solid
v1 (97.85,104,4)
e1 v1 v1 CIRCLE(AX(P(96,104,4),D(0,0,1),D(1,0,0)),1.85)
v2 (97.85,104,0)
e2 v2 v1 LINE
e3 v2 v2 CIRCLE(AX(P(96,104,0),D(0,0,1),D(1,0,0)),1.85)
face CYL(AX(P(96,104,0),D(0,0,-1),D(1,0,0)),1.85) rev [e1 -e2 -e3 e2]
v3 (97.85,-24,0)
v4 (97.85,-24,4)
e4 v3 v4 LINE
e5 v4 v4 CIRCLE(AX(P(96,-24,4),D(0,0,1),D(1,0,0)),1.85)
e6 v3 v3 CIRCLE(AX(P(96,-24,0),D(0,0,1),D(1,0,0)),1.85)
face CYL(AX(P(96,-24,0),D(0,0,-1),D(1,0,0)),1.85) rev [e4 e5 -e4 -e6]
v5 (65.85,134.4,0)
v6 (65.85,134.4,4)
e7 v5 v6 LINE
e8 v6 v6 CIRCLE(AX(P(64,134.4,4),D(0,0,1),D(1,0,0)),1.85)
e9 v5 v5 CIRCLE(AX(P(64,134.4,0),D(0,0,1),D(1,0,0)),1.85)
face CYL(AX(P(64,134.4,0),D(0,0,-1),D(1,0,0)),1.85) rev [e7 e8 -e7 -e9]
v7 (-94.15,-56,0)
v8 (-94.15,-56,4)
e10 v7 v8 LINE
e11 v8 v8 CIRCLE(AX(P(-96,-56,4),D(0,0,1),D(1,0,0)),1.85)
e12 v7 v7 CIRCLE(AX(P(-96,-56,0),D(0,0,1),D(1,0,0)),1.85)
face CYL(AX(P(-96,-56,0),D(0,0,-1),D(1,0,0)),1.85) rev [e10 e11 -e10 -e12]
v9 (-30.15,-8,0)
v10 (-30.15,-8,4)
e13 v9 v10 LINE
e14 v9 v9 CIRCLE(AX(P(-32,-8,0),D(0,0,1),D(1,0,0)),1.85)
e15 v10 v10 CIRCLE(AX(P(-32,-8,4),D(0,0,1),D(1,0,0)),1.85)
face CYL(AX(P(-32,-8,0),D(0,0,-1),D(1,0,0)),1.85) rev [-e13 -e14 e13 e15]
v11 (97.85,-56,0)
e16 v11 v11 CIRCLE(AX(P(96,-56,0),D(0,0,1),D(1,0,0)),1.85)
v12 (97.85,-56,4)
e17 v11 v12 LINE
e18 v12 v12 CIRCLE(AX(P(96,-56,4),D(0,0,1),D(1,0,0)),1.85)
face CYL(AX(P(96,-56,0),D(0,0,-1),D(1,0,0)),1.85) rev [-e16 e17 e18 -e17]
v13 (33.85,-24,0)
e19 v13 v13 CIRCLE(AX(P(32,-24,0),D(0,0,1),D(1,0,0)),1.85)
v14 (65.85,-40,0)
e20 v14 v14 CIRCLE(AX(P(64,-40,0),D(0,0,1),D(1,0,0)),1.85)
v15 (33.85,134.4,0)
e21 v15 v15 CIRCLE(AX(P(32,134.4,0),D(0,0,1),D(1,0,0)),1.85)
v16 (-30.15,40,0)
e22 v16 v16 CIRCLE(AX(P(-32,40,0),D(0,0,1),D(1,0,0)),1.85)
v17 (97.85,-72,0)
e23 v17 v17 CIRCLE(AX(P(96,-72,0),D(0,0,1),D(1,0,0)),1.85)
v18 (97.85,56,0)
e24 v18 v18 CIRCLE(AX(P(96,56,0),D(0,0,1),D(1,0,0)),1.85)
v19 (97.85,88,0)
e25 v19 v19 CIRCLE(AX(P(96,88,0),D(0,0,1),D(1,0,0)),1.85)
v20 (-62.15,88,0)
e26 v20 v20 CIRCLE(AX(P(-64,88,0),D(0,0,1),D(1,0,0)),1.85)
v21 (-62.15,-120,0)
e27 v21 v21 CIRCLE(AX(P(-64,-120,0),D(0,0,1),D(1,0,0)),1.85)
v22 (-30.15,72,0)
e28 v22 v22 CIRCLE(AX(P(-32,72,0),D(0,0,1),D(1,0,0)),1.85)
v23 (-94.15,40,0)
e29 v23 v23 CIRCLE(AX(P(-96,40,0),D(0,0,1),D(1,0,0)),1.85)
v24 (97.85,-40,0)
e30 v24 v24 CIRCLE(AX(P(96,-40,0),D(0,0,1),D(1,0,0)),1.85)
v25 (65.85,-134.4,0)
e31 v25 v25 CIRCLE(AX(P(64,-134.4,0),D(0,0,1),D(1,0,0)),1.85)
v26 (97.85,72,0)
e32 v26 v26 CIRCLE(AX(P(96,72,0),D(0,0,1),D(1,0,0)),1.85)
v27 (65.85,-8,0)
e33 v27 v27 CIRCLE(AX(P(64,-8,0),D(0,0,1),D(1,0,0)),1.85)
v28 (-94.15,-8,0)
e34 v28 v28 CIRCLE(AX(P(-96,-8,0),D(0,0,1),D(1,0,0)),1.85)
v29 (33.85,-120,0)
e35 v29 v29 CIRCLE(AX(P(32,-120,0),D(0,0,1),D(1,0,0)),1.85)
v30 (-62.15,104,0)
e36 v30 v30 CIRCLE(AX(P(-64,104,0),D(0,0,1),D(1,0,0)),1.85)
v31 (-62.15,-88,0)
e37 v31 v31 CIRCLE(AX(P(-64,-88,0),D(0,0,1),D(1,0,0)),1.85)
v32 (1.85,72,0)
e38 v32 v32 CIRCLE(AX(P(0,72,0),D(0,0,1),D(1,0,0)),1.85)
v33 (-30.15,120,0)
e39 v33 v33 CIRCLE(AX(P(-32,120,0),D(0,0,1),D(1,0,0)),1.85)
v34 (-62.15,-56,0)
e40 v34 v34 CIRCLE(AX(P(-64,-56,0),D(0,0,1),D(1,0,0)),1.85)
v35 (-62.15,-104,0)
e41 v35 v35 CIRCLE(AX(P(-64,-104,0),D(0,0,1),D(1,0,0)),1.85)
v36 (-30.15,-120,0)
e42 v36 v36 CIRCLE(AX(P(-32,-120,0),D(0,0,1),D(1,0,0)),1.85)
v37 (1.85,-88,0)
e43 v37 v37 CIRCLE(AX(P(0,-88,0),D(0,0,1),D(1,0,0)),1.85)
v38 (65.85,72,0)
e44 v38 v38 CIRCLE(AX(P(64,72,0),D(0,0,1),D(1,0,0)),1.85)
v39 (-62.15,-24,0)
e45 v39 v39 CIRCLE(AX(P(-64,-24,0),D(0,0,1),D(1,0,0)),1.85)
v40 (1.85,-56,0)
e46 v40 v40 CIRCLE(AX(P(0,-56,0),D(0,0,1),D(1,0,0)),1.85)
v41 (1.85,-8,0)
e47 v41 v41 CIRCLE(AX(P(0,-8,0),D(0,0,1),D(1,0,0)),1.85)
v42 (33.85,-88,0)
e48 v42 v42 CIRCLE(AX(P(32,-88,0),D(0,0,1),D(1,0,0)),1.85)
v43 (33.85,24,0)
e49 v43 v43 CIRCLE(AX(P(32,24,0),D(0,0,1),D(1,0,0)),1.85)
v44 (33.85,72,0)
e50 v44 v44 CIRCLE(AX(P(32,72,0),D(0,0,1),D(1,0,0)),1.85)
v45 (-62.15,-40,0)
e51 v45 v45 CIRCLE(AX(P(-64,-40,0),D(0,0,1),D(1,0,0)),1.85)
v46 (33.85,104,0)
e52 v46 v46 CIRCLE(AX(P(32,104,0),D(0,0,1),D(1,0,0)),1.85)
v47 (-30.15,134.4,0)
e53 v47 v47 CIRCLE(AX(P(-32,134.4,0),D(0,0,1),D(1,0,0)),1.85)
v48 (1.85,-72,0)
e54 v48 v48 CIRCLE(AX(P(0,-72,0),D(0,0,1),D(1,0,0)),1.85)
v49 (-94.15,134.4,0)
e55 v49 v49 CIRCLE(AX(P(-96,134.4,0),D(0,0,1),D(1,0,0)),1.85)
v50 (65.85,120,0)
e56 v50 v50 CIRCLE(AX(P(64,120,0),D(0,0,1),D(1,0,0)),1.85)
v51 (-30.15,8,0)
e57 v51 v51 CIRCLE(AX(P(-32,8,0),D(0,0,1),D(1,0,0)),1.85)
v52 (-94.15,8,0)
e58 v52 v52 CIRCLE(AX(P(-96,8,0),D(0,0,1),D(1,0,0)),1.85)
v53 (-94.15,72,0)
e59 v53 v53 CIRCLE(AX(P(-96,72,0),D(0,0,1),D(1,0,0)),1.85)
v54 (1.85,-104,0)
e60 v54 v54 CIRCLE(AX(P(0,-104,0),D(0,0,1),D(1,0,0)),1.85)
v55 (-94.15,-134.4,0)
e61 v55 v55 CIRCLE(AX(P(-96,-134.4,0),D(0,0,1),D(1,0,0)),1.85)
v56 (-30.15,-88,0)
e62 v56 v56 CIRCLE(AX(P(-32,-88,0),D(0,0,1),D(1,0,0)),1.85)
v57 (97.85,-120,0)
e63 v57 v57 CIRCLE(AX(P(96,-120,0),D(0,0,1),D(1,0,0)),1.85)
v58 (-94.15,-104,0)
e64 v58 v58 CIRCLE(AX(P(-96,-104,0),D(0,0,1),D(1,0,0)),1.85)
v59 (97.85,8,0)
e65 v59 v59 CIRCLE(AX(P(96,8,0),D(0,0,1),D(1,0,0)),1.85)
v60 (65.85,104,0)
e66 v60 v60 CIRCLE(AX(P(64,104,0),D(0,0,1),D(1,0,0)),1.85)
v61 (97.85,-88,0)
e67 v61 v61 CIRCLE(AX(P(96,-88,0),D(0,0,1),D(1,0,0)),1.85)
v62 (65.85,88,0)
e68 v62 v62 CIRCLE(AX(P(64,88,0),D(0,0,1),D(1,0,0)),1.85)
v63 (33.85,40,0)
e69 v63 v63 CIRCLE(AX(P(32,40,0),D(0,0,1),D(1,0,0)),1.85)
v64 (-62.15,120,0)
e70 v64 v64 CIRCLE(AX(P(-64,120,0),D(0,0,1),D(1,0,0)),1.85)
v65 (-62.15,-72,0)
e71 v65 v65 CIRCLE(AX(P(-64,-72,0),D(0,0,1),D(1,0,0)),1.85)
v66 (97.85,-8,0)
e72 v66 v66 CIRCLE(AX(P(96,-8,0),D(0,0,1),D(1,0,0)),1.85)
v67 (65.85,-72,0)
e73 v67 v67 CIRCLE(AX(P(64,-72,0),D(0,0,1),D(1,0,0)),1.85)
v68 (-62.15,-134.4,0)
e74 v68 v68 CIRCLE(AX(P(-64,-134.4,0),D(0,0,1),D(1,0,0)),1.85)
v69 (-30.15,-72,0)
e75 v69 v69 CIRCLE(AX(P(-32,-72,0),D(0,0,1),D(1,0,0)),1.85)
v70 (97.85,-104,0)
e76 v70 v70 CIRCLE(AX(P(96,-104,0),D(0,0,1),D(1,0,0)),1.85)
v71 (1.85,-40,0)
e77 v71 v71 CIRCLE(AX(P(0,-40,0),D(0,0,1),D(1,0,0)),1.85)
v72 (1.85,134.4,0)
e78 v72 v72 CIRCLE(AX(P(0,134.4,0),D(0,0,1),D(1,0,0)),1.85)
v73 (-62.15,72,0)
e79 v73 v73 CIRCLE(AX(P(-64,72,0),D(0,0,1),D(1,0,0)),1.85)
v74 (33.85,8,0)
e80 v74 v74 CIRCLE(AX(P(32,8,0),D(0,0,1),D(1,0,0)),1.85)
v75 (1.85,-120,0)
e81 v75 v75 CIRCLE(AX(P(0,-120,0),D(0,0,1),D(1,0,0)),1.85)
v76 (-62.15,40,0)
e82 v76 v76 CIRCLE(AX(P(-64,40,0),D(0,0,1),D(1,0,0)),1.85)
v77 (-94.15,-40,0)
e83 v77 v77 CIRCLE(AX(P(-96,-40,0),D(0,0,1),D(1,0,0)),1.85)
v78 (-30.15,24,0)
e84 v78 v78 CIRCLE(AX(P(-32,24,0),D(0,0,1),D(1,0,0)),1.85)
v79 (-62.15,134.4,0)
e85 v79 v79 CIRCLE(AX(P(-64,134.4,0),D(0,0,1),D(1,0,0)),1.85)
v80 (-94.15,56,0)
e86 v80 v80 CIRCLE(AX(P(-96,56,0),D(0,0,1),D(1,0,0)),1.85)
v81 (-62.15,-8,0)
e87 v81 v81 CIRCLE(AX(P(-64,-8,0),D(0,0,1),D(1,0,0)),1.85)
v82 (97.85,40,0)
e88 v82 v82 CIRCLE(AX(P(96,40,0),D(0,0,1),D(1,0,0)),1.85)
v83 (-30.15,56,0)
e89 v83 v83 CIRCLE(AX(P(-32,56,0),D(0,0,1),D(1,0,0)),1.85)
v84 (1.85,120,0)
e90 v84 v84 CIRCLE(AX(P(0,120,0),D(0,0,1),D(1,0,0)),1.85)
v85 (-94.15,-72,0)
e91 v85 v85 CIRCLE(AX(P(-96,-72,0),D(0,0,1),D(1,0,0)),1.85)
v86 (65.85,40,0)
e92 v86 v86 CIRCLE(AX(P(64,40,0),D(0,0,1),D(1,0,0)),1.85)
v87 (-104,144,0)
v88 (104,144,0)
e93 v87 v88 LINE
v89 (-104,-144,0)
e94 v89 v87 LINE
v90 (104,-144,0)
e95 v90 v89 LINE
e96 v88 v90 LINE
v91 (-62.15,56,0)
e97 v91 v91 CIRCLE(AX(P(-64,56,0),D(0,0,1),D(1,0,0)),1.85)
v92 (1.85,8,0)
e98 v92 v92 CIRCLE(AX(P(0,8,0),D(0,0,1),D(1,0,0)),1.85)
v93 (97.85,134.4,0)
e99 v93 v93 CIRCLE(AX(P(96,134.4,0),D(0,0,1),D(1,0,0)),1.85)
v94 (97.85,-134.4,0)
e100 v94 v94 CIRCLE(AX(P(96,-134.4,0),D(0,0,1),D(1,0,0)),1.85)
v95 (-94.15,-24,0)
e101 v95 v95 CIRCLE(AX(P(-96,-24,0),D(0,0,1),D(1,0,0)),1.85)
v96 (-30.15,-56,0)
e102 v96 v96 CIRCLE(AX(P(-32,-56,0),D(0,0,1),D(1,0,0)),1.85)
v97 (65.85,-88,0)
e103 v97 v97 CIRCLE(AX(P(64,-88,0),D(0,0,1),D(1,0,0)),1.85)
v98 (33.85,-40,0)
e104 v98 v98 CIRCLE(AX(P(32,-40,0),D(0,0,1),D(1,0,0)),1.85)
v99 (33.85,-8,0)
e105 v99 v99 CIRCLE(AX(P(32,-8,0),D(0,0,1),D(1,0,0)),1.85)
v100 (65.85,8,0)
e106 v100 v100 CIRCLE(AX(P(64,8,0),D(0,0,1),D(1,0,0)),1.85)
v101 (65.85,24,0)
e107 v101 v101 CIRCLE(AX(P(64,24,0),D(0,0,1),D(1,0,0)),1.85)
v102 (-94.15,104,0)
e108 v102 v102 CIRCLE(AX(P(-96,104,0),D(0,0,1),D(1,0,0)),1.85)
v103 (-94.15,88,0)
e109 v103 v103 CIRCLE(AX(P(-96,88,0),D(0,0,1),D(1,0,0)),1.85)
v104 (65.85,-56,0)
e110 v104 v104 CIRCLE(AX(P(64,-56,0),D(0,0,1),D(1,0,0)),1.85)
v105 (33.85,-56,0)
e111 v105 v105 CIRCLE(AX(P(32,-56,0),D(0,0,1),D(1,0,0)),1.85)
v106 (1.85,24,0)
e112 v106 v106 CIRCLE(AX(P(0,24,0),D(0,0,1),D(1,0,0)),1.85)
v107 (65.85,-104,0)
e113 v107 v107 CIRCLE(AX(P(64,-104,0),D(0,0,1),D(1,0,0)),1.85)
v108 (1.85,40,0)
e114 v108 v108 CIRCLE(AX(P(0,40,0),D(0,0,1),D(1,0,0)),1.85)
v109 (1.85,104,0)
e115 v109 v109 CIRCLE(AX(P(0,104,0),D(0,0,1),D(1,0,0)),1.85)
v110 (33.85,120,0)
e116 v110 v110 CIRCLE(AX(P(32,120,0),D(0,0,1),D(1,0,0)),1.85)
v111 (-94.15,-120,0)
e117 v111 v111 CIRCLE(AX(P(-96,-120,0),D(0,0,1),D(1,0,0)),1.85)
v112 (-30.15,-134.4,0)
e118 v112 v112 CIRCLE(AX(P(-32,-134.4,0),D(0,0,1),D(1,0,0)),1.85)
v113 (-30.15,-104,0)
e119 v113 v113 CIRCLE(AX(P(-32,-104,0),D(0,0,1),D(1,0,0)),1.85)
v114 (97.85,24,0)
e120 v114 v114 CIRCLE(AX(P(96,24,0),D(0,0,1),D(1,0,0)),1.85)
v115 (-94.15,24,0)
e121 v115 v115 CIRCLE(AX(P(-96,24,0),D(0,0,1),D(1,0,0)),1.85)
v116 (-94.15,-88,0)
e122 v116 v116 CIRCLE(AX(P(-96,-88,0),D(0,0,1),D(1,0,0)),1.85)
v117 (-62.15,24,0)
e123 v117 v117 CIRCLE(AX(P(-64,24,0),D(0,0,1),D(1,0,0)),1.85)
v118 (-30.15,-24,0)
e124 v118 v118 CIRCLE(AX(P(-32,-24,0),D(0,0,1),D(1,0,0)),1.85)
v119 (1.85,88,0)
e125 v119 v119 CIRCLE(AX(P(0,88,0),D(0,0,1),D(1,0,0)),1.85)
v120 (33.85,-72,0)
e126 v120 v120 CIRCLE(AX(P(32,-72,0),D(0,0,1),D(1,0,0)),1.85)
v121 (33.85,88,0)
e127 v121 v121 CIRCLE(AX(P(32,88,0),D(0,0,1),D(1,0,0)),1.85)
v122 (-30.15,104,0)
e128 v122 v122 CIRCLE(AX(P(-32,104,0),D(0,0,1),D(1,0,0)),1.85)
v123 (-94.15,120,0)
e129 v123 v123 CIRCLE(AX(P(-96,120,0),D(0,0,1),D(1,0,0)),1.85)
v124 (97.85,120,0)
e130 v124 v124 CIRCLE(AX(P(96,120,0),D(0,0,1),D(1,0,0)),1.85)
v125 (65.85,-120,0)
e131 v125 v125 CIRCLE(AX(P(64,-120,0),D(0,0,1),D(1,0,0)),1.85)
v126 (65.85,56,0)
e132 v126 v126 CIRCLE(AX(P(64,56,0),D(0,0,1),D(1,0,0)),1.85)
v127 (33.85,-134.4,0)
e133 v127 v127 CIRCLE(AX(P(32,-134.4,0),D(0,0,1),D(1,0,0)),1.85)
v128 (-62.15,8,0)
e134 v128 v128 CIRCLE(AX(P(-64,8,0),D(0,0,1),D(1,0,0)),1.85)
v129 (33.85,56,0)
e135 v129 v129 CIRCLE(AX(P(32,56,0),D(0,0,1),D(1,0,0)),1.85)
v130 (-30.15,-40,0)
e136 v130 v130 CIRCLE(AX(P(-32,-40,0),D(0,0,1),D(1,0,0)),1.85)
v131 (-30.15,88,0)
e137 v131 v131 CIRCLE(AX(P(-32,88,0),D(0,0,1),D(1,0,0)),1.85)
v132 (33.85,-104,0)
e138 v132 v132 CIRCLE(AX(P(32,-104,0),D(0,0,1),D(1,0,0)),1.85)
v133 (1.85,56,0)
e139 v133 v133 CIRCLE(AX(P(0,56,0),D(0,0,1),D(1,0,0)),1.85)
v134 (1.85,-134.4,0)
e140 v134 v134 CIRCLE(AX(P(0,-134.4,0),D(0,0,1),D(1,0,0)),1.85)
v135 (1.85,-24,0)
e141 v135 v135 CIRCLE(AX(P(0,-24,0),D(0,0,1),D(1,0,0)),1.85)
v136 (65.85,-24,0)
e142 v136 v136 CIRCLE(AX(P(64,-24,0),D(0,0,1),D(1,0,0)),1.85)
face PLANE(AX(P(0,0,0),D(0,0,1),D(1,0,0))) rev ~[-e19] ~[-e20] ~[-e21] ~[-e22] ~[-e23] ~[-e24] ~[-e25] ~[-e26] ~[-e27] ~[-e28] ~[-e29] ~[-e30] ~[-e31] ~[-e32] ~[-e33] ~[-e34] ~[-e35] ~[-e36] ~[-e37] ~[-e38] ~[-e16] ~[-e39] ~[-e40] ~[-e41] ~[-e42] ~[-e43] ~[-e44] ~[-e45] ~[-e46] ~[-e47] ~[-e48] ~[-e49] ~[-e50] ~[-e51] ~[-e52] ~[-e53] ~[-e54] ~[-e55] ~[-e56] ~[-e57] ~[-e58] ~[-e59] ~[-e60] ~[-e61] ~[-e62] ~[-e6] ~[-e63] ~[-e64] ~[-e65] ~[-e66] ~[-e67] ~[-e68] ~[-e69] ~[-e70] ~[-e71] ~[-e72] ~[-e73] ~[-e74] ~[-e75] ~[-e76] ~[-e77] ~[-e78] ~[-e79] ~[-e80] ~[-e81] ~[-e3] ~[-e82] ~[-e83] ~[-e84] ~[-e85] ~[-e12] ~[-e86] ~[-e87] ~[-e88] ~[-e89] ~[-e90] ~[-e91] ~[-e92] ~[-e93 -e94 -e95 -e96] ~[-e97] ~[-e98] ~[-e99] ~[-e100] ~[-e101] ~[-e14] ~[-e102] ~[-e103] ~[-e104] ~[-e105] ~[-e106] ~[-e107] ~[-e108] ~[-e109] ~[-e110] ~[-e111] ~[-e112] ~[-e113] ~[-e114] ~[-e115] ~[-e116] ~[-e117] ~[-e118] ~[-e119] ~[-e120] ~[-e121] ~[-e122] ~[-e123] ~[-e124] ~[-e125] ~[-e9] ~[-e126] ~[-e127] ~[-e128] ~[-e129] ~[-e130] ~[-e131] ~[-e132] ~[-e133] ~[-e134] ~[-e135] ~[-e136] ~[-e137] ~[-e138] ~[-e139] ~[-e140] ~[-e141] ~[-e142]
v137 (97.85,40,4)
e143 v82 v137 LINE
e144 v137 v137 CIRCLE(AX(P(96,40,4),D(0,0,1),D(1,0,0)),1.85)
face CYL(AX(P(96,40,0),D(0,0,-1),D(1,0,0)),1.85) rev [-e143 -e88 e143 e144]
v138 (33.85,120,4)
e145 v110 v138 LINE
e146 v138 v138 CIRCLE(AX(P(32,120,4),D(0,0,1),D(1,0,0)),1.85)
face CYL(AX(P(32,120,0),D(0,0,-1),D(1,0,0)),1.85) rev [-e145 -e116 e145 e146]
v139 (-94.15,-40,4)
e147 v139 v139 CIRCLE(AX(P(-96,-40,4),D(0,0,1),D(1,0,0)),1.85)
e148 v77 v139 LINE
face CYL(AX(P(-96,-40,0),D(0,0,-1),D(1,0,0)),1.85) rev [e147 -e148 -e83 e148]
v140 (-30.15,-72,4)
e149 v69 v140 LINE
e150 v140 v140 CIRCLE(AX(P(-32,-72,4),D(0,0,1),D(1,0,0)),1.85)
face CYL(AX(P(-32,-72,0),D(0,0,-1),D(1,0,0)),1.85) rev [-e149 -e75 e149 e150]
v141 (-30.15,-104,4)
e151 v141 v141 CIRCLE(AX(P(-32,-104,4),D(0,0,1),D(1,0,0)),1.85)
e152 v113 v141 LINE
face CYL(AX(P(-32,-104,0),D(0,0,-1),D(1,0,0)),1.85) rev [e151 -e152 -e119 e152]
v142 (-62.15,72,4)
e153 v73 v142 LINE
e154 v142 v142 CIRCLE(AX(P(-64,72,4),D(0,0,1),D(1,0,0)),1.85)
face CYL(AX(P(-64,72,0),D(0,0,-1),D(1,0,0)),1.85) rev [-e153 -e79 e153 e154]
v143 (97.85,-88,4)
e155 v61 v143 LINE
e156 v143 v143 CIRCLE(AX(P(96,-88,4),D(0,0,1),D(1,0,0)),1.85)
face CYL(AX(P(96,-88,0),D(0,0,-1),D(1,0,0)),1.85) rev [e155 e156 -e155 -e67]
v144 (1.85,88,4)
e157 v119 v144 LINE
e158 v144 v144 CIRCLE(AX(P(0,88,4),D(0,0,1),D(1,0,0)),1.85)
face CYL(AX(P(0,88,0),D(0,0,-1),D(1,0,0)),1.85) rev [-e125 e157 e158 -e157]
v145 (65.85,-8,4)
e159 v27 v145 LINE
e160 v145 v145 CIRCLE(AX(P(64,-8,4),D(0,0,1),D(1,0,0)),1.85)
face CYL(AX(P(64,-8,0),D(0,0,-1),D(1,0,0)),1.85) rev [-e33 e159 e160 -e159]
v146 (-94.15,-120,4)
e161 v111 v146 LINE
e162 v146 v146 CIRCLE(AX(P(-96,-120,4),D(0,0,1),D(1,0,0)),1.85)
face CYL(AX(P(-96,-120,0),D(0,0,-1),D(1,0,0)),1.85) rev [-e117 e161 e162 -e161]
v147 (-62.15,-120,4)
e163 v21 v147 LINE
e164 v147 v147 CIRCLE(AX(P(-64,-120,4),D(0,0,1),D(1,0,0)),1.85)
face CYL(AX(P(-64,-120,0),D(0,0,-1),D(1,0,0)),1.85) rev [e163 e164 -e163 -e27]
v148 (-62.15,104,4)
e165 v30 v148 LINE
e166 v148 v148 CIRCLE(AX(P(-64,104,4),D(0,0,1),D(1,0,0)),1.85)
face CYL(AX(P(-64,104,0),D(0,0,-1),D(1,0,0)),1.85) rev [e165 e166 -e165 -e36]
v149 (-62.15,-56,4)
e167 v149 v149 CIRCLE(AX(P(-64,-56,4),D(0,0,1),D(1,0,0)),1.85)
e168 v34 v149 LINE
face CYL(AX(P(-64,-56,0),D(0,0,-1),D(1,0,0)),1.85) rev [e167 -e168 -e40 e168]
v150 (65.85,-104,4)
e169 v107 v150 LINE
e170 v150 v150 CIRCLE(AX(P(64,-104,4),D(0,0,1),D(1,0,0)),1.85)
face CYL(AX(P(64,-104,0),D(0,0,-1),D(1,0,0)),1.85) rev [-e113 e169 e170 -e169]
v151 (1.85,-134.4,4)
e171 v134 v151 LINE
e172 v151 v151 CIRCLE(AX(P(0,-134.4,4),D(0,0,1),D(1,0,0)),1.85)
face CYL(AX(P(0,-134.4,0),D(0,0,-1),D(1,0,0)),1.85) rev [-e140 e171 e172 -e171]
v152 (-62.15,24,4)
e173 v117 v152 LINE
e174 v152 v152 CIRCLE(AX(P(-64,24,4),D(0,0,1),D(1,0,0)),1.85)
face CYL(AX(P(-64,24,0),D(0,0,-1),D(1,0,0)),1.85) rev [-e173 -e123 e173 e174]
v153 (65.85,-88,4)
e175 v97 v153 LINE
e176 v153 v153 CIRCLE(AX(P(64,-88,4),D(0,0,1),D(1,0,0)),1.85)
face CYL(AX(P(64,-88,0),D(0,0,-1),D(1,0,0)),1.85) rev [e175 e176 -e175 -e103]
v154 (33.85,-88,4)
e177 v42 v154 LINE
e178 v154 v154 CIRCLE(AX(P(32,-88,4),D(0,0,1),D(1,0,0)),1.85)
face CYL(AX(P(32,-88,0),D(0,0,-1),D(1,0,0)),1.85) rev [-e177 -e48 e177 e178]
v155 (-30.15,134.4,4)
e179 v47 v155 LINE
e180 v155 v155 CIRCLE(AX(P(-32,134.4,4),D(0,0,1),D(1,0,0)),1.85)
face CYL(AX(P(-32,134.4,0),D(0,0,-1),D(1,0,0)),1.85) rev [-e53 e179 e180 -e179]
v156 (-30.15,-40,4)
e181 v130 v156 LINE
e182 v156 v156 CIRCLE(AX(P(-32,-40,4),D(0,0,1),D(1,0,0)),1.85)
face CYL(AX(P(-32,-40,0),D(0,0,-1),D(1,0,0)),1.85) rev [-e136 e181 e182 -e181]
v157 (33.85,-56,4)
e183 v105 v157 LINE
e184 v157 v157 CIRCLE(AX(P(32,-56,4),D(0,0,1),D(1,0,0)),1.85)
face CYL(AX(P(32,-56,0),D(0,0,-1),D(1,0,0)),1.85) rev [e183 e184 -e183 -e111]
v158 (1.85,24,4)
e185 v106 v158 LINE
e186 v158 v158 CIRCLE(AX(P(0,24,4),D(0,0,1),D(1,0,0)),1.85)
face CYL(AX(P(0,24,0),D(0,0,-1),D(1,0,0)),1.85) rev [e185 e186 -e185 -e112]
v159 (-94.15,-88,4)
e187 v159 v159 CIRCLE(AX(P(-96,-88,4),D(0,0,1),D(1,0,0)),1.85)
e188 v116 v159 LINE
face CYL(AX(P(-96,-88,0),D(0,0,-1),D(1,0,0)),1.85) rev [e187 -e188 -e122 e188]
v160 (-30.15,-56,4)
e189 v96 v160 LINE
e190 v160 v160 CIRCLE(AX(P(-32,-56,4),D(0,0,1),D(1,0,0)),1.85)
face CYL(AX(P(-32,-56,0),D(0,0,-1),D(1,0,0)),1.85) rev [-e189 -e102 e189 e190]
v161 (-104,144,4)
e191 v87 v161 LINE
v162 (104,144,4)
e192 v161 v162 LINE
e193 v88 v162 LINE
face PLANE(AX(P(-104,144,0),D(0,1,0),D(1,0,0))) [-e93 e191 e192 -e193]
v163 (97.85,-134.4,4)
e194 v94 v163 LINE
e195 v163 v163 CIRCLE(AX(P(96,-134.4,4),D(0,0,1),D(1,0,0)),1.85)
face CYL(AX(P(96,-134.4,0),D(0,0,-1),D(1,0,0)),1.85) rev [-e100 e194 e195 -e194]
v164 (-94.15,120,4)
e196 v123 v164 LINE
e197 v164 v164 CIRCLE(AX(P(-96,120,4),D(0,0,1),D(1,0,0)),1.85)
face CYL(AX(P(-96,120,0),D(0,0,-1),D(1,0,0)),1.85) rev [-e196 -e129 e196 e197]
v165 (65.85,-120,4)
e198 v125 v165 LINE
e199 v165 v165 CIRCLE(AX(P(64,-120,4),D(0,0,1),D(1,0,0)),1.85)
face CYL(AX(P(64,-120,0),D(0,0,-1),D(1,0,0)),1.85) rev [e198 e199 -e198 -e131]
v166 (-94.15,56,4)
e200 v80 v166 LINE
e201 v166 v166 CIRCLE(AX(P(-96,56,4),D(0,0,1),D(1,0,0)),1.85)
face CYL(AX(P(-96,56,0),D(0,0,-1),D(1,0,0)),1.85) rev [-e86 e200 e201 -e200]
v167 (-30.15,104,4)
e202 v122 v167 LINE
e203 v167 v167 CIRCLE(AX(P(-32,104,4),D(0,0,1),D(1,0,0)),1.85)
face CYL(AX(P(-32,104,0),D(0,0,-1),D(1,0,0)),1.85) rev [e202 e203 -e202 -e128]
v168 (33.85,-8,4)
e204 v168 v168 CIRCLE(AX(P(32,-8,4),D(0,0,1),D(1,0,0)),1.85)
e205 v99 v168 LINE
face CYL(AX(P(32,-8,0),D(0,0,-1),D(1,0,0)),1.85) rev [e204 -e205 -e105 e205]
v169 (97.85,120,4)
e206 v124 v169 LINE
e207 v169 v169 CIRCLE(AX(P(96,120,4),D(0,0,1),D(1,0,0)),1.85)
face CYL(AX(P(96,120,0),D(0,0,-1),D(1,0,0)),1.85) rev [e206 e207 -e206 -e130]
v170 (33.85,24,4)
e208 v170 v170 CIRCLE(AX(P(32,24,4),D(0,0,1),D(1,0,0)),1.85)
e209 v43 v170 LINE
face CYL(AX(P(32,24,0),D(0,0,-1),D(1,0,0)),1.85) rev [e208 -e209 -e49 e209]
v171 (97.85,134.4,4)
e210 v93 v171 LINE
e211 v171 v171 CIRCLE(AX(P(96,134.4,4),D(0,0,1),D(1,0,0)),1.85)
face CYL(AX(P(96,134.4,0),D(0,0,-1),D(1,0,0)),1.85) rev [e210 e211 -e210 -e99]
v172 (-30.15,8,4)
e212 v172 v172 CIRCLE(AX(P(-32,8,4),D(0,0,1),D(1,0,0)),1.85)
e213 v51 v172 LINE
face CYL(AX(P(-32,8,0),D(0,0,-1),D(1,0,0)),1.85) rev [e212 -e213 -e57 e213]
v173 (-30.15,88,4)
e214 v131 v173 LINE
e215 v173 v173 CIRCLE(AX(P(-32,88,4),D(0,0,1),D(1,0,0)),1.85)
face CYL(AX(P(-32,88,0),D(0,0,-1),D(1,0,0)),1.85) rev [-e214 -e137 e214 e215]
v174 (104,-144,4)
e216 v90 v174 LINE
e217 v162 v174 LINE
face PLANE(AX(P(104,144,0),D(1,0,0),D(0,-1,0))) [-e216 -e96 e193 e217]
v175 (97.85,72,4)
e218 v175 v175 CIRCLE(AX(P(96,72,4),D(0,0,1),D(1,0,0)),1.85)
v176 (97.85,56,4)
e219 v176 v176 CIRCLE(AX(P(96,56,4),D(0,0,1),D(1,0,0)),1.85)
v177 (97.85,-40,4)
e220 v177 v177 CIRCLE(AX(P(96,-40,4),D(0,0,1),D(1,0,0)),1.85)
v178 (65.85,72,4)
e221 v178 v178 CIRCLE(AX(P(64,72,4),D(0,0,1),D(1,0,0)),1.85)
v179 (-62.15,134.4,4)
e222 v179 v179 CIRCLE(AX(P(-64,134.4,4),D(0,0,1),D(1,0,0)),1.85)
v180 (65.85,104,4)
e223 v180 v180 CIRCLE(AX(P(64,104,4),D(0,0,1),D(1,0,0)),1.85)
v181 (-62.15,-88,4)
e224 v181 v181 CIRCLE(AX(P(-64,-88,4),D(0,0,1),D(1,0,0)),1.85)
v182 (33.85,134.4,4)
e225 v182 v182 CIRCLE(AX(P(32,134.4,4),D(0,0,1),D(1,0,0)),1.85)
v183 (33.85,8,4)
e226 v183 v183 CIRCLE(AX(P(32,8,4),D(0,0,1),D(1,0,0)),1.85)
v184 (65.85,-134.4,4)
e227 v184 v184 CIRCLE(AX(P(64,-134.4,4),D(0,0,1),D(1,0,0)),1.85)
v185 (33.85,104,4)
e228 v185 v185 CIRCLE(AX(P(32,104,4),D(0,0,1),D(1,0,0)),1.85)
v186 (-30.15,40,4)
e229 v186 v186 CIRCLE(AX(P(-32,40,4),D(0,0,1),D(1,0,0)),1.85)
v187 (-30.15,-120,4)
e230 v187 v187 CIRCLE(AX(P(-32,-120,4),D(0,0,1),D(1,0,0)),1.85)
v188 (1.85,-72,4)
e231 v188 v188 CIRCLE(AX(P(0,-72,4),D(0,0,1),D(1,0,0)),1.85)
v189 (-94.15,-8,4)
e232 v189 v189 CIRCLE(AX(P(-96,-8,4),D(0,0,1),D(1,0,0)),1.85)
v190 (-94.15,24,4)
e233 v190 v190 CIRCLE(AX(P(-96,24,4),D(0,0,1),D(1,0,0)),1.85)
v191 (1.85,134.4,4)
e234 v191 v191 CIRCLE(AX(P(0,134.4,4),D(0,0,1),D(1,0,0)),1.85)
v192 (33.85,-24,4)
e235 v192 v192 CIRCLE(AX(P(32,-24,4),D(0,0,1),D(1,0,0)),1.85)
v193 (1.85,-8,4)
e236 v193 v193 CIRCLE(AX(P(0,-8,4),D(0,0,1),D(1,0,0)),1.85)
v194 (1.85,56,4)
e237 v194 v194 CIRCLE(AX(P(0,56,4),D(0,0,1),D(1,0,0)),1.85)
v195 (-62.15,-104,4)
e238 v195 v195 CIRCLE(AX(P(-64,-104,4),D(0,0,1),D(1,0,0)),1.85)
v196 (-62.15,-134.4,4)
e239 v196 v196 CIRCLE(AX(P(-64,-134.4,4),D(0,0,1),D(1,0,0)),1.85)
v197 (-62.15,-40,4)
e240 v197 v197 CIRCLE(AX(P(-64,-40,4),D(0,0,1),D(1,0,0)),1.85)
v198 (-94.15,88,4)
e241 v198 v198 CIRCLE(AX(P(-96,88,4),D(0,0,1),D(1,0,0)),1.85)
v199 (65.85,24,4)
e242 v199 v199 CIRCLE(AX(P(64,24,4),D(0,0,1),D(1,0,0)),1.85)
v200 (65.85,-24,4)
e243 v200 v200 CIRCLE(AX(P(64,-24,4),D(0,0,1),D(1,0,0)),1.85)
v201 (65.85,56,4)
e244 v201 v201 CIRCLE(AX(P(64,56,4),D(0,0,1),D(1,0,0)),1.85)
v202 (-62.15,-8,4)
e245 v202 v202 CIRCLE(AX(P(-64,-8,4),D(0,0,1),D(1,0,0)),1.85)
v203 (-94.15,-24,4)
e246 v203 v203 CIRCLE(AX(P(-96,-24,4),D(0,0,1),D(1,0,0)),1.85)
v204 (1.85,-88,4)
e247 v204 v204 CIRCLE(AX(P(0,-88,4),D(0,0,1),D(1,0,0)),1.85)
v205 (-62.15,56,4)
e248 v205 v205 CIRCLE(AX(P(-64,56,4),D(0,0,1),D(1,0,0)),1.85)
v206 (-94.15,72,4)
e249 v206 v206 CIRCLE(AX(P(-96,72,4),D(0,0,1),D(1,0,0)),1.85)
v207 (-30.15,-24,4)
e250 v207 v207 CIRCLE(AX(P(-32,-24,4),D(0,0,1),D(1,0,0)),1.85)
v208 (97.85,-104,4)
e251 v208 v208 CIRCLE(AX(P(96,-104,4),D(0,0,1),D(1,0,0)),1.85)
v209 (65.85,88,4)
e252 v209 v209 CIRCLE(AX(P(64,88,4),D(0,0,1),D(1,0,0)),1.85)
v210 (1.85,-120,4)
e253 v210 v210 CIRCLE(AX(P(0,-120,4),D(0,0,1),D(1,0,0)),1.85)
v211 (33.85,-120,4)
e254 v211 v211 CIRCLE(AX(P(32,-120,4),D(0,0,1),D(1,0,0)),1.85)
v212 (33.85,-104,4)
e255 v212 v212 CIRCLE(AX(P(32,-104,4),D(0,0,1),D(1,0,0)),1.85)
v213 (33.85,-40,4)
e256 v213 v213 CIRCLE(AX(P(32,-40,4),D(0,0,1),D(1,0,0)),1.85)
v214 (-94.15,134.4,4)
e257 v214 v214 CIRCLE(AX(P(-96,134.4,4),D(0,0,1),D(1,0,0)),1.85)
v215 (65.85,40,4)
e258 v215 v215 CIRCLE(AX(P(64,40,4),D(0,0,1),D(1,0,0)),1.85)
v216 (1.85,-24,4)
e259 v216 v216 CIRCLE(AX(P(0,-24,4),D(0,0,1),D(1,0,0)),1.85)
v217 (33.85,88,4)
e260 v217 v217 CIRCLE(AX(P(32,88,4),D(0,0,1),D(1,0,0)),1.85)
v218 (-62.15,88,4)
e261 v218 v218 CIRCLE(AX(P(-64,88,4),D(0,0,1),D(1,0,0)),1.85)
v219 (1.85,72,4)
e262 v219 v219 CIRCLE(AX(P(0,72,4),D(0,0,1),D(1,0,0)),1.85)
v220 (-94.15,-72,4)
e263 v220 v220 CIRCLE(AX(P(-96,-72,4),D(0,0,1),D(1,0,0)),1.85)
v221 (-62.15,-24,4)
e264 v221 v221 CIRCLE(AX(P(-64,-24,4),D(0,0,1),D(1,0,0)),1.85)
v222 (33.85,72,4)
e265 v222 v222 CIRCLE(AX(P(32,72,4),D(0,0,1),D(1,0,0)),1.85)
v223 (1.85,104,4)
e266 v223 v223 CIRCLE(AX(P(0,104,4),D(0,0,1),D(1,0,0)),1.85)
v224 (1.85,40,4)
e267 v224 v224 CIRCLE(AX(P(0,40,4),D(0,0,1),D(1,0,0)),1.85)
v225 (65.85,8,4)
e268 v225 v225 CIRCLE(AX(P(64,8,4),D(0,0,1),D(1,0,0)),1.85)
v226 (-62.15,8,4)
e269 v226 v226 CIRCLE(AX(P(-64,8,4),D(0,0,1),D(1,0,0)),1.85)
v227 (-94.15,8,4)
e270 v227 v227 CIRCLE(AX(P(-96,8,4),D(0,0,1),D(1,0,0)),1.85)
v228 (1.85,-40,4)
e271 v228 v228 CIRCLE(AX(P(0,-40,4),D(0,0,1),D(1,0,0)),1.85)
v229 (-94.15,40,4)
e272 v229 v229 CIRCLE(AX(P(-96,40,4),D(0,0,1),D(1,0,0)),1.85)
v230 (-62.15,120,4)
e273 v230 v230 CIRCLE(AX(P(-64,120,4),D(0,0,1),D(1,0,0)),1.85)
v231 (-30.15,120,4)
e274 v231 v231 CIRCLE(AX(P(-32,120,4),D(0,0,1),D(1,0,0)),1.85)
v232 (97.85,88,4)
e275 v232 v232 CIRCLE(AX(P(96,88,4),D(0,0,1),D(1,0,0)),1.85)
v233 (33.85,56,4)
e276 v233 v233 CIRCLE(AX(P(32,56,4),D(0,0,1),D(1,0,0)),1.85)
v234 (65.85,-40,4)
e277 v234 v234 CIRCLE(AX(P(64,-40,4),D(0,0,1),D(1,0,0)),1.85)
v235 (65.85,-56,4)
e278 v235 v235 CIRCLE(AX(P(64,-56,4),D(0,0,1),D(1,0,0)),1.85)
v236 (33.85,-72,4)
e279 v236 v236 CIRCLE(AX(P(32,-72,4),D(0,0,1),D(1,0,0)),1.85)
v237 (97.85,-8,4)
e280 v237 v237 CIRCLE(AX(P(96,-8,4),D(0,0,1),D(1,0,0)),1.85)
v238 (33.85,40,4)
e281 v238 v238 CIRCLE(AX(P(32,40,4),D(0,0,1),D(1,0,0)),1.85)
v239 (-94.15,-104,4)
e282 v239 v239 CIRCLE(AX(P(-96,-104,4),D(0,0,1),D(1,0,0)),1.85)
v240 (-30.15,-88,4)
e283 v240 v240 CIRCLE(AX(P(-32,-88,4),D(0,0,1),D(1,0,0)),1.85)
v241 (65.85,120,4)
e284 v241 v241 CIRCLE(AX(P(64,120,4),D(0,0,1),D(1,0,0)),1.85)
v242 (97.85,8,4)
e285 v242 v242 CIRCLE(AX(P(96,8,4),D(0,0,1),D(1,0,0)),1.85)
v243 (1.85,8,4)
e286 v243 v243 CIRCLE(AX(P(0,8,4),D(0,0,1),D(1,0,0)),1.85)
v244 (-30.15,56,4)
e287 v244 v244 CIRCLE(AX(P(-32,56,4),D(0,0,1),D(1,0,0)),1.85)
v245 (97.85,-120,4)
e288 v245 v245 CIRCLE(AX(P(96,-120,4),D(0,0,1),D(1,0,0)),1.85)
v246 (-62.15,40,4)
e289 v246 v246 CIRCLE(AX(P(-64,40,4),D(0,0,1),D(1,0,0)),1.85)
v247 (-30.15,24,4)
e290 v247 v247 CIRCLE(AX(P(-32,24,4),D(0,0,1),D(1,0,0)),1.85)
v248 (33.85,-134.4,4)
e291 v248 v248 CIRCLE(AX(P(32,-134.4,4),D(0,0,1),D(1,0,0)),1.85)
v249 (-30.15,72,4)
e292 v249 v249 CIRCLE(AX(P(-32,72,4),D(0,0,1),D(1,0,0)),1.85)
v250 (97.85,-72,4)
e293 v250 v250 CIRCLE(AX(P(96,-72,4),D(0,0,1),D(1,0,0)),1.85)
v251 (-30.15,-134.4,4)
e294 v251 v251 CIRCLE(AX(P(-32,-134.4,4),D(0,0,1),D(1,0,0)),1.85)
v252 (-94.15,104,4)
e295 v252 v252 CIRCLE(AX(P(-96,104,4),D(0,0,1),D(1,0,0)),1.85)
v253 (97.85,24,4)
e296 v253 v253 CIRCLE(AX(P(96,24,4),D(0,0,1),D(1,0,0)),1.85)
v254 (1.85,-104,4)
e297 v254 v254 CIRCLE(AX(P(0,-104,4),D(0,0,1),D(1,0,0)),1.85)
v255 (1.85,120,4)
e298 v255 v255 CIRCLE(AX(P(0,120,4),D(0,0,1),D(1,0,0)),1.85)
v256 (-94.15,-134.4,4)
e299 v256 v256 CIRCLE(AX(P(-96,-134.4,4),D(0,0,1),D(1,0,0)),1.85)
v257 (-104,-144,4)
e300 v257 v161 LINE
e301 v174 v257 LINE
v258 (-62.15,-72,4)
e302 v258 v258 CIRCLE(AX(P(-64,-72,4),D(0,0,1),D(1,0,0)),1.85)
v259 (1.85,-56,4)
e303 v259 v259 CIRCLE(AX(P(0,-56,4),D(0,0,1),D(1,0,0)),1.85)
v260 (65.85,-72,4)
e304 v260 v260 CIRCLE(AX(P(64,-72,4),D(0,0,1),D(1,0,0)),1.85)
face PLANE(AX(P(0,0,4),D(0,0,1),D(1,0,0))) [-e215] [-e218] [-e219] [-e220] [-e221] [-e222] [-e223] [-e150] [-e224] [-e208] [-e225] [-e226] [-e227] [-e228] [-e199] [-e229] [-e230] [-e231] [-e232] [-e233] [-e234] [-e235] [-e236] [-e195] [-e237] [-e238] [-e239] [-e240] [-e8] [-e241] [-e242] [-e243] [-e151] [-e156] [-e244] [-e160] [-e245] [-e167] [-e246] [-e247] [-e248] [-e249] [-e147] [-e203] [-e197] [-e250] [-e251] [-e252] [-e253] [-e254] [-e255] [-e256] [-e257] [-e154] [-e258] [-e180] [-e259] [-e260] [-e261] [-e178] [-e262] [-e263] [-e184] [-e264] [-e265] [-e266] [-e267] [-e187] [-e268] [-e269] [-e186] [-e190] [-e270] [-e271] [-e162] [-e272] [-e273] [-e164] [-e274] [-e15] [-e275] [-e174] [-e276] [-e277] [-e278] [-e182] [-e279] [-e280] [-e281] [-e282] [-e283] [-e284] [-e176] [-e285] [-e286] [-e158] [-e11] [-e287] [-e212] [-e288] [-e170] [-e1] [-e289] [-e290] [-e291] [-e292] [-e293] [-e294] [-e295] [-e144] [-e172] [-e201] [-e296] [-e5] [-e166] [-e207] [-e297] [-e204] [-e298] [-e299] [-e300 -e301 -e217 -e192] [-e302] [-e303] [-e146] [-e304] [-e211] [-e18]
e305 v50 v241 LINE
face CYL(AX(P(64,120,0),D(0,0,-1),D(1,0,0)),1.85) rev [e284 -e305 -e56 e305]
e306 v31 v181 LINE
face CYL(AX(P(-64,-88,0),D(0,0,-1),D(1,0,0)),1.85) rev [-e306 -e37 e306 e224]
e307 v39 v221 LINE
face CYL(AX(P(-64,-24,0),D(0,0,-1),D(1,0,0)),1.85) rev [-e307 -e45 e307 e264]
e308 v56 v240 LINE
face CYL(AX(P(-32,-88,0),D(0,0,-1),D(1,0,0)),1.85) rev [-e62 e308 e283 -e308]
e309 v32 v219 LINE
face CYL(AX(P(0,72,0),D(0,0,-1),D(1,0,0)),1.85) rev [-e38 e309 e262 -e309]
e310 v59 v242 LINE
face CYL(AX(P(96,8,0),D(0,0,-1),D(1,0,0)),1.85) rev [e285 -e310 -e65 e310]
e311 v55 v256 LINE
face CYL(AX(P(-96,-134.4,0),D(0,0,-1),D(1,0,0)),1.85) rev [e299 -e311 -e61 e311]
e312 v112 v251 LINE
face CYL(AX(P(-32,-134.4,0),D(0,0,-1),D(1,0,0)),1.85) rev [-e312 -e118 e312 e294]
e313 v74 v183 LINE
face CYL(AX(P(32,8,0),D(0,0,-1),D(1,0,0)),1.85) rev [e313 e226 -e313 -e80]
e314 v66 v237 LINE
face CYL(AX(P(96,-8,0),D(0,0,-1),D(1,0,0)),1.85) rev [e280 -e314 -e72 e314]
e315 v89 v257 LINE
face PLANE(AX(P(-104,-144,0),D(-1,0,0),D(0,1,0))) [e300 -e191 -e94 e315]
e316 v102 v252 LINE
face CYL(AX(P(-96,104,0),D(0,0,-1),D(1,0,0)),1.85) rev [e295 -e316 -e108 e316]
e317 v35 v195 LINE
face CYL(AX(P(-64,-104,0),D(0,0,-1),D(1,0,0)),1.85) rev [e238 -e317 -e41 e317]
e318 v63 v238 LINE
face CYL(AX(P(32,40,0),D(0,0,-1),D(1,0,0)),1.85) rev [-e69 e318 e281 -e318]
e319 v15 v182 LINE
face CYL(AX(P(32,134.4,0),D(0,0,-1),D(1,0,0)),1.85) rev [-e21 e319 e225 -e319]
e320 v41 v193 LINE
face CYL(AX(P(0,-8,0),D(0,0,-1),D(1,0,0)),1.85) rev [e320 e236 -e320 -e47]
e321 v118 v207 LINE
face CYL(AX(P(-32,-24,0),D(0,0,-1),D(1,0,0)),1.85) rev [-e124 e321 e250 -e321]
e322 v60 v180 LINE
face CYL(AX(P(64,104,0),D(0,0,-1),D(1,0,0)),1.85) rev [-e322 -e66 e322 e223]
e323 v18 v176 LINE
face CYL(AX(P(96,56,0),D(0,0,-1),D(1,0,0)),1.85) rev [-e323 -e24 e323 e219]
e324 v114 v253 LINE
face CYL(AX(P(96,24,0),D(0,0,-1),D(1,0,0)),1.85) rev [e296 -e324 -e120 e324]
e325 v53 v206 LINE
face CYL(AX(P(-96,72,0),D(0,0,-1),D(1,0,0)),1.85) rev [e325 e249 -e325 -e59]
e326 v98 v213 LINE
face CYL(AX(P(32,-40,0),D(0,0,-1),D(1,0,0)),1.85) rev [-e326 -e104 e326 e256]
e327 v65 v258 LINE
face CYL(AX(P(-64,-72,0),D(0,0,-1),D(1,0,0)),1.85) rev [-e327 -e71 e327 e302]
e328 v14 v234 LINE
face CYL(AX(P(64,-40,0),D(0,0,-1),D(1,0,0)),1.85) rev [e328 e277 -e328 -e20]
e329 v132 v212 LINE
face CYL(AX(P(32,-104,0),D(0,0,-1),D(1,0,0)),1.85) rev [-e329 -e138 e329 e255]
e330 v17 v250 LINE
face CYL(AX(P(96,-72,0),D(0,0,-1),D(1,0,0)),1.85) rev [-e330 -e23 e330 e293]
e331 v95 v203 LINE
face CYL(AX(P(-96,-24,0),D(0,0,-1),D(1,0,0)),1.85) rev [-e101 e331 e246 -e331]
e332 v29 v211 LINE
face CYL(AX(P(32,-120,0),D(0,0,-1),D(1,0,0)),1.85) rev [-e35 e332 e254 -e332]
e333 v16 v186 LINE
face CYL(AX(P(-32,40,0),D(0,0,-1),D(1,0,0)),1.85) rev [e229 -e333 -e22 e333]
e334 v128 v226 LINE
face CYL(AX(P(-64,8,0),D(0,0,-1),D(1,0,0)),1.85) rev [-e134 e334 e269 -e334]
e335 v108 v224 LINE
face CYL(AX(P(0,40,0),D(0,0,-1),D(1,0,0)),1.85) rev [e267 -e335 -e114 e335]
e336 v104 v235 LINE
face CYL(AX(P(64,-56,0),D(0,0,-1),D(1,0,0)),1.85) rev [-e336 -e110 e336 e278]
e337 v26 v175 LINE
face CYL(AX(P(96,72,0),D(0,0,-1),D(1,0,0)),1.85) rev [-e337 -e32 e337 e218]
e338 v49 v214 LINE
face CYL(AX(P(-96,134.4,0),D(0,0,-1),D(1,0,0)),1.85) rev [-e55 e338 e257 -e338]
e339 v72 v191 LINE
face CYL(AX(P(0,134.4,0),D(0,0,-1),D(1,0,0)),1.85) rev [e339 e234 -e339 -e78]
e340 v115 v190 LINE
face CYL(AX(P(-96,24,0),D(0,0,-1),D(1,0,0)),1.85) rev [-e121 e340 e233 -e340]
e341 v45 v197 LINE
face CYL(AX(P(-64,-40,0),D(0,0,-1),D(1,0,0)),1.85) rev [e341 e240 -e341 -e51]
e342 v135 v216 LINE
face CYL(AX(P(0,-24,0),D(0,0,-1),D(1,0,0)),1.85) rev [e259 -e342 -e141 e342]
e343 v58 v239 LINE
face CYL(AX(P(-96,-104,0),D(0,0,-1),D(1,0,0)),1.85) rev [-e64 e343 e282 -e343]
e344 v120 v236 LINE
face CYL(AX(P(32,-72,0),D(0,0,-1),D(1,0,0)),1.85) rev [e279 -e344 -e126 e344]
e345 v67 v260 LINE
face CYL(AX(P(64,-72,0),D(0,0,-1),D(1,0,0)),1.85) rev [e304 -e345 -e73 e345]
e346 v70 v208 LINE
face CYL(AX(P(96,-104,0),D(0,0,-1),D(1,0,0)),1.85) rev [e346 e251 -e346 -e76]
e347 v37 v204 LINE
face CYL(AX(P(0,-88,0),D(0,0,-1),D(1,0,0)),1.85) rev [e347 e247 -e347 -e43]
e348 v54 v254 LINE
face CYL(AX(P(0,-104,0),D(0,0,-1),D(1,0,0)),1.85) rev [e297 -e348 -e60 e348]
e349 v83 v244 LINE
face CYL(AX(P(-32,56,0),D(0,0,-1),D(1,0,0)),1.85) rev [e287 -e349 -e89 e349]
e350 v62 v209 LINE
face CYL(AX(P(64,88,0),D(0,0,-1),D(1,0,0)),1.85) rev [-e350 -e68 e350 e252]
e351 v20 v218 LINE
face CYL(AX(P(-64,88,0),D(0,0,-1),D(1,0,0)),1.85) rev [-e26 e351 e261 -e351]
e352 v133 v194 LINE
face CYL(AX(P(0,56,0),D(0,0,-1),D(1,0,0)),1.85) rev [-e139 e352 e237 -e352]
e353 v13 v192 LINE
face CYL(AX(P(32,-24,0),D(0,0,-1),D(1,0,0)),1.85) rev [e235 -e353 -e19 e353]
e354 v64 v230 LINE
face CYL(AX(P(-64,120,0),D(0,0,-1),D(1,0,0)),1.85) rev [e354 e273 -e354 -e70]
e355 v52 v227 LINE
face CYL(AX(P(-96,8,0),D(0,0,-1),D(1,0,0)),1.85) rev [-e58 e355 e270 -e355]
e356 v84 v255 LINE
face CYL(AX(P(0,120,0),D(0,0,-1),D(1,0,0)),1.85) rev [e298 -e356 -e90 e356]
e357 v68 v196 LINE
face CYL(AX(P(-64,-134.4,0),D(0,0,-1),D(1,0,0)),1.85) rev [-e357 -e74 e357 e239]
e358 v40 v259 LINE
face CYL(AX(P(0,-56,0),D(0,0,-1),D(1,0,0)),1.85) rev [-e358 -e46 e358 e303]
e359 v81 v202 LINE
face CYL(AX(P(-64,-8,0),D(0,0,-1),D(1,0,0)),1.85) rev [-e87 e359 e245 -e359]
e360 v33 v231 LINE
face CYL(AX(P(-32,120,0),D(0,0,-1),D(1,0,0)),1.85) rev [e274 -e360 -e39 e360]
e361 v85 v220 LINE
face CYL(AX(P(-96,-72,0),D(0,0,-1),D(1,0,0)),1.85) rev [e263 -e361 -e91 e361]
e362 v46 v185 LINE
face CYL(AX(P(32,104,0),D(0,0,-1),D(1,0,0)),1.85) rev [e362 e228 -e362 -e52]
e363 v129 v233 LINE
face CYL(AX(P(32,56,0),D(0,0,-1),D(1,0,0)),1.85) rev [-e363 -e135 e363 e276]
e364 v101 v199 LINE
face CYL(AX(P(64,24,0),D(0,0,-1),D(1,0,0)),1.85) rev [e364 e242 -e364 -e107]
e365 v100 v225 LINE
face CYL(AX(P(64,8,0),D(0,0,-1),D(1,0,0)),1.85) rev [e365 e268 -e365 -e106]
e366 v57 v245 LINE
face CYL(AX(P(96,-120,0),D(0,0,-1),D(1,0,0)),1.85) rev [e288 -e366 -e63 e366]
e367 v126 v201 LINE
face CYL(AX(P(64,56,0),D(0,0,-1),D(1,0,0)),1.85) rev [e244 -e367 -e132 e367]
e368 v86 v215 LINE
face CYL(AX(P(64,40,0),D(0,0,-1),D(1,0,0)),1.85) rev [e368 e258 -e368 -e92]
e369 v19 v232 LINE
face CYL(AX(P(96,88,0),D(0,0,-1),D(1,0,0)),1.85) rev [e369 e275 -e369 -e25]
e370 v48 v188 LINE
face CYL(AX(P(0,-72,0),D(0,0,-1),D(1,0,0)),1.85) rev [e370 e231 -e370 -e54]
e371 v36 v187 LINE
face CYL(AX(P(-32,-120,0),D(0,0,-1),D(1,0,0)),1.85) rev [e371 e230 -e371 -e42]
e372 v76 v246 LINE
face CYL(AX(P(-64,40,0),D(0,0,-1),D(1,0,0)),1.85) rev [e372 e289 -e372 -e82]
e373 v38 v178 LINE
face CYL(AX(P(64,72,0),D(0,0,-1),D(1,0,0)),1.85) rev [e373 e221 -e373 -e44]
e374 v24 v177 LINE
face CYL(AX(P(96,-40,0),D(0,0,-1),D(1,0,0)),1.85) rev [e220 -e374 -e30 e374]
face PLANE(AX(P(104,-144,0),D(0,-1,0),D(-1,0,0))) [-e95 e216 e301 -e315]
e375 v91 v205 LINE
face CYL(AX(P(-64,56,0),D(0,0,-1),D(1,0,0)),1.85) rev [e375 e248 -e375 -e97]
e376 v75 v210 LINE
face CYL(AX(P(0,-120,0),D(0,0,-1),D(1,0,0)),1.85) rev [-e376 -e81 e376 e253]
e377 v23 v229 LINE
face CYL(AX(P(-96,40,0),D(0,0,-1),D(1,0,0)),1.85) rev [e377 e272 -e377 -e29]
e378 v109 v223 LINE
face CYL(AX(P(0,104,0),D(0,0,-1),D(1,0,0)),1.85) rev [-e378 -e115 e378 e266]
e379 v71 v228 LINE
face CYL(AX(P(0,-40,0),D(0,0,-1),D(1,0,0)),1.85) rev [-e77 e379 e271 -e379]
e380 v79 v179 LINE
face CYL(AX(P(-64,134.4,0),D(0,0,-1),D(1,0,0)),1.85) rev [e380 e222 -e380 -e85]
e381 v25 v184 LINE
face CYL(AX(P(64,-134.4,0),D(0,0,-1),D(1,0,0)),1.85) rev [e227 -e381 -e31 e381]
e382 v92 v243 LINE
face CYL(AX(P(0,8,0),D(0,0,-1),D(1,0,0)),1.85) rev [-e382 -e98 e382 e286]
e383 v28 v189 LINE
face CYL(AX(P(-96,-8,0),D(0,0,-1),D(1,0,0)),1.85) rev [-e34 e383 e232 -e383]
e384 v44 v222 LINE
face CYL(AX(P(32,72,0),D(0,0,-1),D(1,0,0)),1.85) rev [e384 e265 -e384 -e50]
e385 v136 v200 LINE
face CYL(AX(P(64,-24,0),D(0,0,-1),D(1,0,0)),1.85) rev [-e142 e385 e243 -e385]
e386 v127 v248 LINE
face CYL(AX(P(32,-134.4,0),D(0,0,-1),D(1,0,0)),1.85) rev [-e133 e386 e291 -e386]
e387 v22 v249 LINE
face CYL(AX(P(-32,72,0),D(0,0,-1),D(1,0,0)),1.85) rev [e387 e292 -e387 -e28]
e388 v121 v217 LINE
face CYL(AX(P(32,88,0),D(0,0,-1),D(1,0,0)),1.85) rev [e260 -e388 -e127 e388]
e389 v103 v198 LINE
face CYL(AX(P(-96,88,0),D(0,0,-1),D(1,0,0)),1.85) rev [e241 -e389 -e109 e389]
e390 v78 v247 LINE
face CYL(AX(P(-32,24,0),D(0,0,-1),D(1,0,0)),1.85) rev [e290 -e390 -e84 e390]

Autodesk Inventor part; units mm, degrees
ref_plane "YZ Plane" through (0, 0, 0) normal (1, 0, 0) x (0, 1, 0)
ref_plane "XZ Plane" through (0, 0, 0) normal (0, 1, 0) x (-1, 0, 0)
ref_plane "XY Plane" through (0, 0, 0) normal (0, 0, 1) x (1, 0, 0)
sketch "Sketch1" plane through (0, 0, 0) normal (0, 0, 1) x (1, 0, 0)
  line L0 (104, -144) -> (-104, -144)
  line L1 (-104, -144) -> (-104, 144)
  line L2 (-104, 144) -> (104, 144)
  line L3 (104, 144) -> (104, -144)
  line L4 (104, -144) -> (-104, 144) construction
  line L5 (-104, -144) -> (104, 144) construction
  circle A0 centre (96, 134.4) radius 1.85
  circle A1 centre (64, 134.4) radius 1.85
  circle A2 centre (32, 134.4) radius 1.85
  circle A3 centre (0, 134.4) radius 1.85
  circle A4 centre (-32, 134.4) radius 1.85
  circle A5 centre (-64, 134.4) radius 1.85
  circle A6 centre (-96, 134.4) radius 1.85
  circle A7 centre (64, -134.4) radius 1.85
  circle A8 centre (32, -134.4) radius 1.85
  circle A9 centre (96, -134.4) radius 1.85
  circle A10 centre (0, -134.4) radius 1.85
  circle A11 centre (-32, -134.4) radius 1.85
  circle A12 centre (-96, -134.4) radius 1.85
  line L6 (104, 144) -> (-104, -144) construction
  line L7 (-104, 144) -> (104, -144) construction
  circle A13 centre (-64, -134.4) radius 1.85
  circle A14 centre (0, -8) radius 1.85 projected
  circle A15 centre (0, 8) radius 1.85 projected
  circle A16 centre (-96, 8) radius 1.85 projected
  circle A17 centre (-96, -8) radius 1.85 projected
  circle A18 centre (96, 8) radius 1.85 projected
  circle A19 centre (96, -8) radius 1.85 projected
  circle A20 centre (64, -8) radius 1.85 projected
  circle A21 centre (64, 8) radius 1.85 projected
  circle A22 centre (32, -8) radius 1.85 projected
  circle A23 centre (32, 8) radius 1.85 projected
  circle A24 centre (-32, -8) radius 1.85 projected
  circle A25 centre (-32, 8) radius 1.85 projected
  circle A26 centre (-64, -8) radius 1.85 projected
  circle A27 centre (-64, 8) radius 1.85 projected
  circle A28 centre (-96, 120) radius 1.85 projected
  circle A29 centre (-96, 104) radius 1.85 projected
  circle A30 centre (-96, 88) radius 1.85 projected
  circle A31 centre (-96, 56) radius 1.85 projected
  circle A32 centre (-96, 40) radius 1.85 projected
  circle A33 centre (-96, 24) radius 1.85 projected
  circle A34 centre (-64, 24) radius 1.85 projected
  circle A35 centre (-64, 56) radius 1.85 projected
  circle A36 centre (-64, 40) radius 1.85 projected
  circle A37 centre (-64, 88) radius 1.85 projected
  circle A38 centre (-64, 72) radius 1.85 projected
  circle A39 centre (-64, 120) radius 1.85 projected
  circle A40 centre (-64, 104) radius 1.85 projected
  circle A41 centre (-32, 120) radius 1.85 projected
  circle A42 centre (-32, 104) radius 1.85 projected
  circle A43 centre (-32, 88) radius 1.85 projected
  circle A44 centre (-32, 72) radius 1.85 projected
  circle A45 centre (0, 88) radius 1.85 projected
  circle A46 centre (0, 104) radius 1.85 projected
  circle A47 centre (0, 120) radius 1.85 projected
  circle A48 centre (32, 120) radius 1.85 projected
  circle A49 centre (32, 104) radius 1.85 projected
  circle A50 centre (64, 120) radius 1.85 projected
  circle A51 centre (64, 104) radius 1.85 projected
  circle A52 centre (64, 88) radius 1.85 projected
  circle A53 centre (32, 88) radius 1.85 projected
  circle A54 centre (32, 72) radius 1.85 projected
  circle A55 centre (64, 72) radius 1.85 projected
  circle A56 centre (0, 72) radius 1.85 projected
  circle A57 centre (-32, 56) radius 1.85 projected
  circle A58 centre (-32, 40) radius 1.85 projected
  circle A59 centre (0, 56) radius 1.85 projected
  circle A60 centre (0, 40) radius 1.85 projected
  circle A61 centre (32, 56) radius 1.85 projected
  circle A62 centre (32, 40) radius 1.85 projected
  circle A63 centre (64, 56) radius 1.85 projected
  circle A64 centre (64, 40) radius 1.85 projected
  circle A65 centre (64, 24) radius 1.85 projected
  circle A66 centre (32, 24) radius 1.85 projected
  circle A67 centre (0, 24) radius 1.85 projected
  circle A68 centre (-32, 24) radius 1.85 projected
  circle A69 centre (-96, 72) radius 1.85 projected
  circle A70 centre (64, -24) radius 1.85 projected
  circle A71 centre (64, -40) radius 1.85 projected
  circle A72 centre (32, -24) radius 1.85 projected
  circle A73 centre (32, -40) radius 1.85 projected
  circle A74 centre (32, -56) radius 1.85 projected
  circle A75 centre (64, -56) radius 1.85 projected
  circle A76 centre (64, -72) radius 1.85 projected
  circle A77 centre (32, -72) radius 1.85 projected
  circle A78 centre (0, -40) radius 1.85 projected
  circle A79 centre (0, -24) radius 1.85 projected
  circle A80 centre (0, -56) radius 1.85 projected
  circle A81 centre (0, -72) radius 1.85 projected
  circle A82 centre (-32, -24) radius 1.85 projected
  circle A83 centre (-64, -24) radius 1.85 projected
  circle A84 centre (-96, -24) radius 1.85 projected
  circle A85 centre (-96, -40) radius 1.85 projected
  circle A86 centre (-64, -40) radius 1.85 projected
  circle A87 centre (-32, -40) radius 1.85 projected
  circle A88 centre (-32, -56) radius 1.85 projected
  circle A89 centre (-64, -56) radius 1.85 projected
  circle A90 centre (-96, -56) radius 1.85 projected
  circle A91 centre (-96, -72) radius 1.85 projected
  circle A92 centre (-64, -72) radius 1.85 projected
  circle A93 centre (-32, -72) radius 1.85 projected
  circle A94 centre (-32, -88) radius 1.85 projected
  circle A95 centre (0, -88) radius 1.85 projected
  circle A96 centre (32, -88) radius 1.85 projected
  circle A97 centre (64, -88) radius 1.85 projected
  circle A98 centre (64, -104) radius 1.85 projected
  circle A99 centre (32, -104) radius 1.85 projected
  circle A100 centre (0, -104) radius 1.85 projected
  circle A101 centre (-32, -104) radius 1.85 projected
  circle A102 centre (-64, -104) radius 1.85 projected
  circle A103 centre (-64, -88) radius 1.85 projected
  circle A104 centre (-96, -88) radius 1.85 projected
  circle A105 centre (-96, -104) radius 1.85 projected
  circle A106 centre (-96, -120) radius 1.85 projected
  circle A107 centre (-64, -120) radius 1.85 projected
  circle A108 centre (-32, -120) radius 1.85 projected
  circle A109 centre (0, -120) radius 1.85 projected
  circle A110 centre (32, -120) radius 1.85 projected
  circle A111 centre (64, -120) radius 1.85 projected
  circle A112 centre (96, 56) radius 1.85 projected
  circle A113 centre (96, 40) radius 1.85 projected
  circle A114 centre (96, 24) radius 1.85 projected
  circle A115 centre (96, -24) radius 1.85 projected
  circle A116 centre (96, -40) radius 1.85 projected
  circle A117 centre (96, -72) radius 1.85 projected
  circle A118 centre (96, -88) radius 1.85 projected
  circle A119 centre (96, -104) radius 1.85 projected
  circle A120 centre (96, -120) radius 1.85 projected
  circle A121 centre (96, -56) radius 1.85 projected
  circle A122 centre (96, 120) radius 1.85 projected
  circle A123 centre (96, 104) radius 1.85 projected
  circle A124 centre (96, 88) radius 1.85 projected
  circle A125 centre (96, 72) radius 1.85 projected
  dimension "d0" = 208
  dimension "d1" = 288
  dimension "d17" = 32
  dimension "d18" = 32
  dimension "d19" = 32
  dimension "d20" = 32
  dimension "d21" = 32
  dimension "d22" = 32
  dimension "d23" = 8
  dimension "d25" = 9.6
  dimension "d26" = 9.6
  dimension "d27" = 8
  dimension "d29" = 9.6
  dimension "d30" = 8
  dimension "d31" = 14.4
  dimension "d32" = 16
  dimension "d33" = 14.4
  dimension "d34" = 14.4
  dimension "d35" = 16
  dimension "d36" = 14.4
  dimension "d37" = 16
  dimension "d38" = 16
  dimension "d39" = 9.6
  dimension "d40" = 8
extrude "Extrusion8" add sketch "Sketch1" along normal blind 4
properties part number "KrackenPlate2"
